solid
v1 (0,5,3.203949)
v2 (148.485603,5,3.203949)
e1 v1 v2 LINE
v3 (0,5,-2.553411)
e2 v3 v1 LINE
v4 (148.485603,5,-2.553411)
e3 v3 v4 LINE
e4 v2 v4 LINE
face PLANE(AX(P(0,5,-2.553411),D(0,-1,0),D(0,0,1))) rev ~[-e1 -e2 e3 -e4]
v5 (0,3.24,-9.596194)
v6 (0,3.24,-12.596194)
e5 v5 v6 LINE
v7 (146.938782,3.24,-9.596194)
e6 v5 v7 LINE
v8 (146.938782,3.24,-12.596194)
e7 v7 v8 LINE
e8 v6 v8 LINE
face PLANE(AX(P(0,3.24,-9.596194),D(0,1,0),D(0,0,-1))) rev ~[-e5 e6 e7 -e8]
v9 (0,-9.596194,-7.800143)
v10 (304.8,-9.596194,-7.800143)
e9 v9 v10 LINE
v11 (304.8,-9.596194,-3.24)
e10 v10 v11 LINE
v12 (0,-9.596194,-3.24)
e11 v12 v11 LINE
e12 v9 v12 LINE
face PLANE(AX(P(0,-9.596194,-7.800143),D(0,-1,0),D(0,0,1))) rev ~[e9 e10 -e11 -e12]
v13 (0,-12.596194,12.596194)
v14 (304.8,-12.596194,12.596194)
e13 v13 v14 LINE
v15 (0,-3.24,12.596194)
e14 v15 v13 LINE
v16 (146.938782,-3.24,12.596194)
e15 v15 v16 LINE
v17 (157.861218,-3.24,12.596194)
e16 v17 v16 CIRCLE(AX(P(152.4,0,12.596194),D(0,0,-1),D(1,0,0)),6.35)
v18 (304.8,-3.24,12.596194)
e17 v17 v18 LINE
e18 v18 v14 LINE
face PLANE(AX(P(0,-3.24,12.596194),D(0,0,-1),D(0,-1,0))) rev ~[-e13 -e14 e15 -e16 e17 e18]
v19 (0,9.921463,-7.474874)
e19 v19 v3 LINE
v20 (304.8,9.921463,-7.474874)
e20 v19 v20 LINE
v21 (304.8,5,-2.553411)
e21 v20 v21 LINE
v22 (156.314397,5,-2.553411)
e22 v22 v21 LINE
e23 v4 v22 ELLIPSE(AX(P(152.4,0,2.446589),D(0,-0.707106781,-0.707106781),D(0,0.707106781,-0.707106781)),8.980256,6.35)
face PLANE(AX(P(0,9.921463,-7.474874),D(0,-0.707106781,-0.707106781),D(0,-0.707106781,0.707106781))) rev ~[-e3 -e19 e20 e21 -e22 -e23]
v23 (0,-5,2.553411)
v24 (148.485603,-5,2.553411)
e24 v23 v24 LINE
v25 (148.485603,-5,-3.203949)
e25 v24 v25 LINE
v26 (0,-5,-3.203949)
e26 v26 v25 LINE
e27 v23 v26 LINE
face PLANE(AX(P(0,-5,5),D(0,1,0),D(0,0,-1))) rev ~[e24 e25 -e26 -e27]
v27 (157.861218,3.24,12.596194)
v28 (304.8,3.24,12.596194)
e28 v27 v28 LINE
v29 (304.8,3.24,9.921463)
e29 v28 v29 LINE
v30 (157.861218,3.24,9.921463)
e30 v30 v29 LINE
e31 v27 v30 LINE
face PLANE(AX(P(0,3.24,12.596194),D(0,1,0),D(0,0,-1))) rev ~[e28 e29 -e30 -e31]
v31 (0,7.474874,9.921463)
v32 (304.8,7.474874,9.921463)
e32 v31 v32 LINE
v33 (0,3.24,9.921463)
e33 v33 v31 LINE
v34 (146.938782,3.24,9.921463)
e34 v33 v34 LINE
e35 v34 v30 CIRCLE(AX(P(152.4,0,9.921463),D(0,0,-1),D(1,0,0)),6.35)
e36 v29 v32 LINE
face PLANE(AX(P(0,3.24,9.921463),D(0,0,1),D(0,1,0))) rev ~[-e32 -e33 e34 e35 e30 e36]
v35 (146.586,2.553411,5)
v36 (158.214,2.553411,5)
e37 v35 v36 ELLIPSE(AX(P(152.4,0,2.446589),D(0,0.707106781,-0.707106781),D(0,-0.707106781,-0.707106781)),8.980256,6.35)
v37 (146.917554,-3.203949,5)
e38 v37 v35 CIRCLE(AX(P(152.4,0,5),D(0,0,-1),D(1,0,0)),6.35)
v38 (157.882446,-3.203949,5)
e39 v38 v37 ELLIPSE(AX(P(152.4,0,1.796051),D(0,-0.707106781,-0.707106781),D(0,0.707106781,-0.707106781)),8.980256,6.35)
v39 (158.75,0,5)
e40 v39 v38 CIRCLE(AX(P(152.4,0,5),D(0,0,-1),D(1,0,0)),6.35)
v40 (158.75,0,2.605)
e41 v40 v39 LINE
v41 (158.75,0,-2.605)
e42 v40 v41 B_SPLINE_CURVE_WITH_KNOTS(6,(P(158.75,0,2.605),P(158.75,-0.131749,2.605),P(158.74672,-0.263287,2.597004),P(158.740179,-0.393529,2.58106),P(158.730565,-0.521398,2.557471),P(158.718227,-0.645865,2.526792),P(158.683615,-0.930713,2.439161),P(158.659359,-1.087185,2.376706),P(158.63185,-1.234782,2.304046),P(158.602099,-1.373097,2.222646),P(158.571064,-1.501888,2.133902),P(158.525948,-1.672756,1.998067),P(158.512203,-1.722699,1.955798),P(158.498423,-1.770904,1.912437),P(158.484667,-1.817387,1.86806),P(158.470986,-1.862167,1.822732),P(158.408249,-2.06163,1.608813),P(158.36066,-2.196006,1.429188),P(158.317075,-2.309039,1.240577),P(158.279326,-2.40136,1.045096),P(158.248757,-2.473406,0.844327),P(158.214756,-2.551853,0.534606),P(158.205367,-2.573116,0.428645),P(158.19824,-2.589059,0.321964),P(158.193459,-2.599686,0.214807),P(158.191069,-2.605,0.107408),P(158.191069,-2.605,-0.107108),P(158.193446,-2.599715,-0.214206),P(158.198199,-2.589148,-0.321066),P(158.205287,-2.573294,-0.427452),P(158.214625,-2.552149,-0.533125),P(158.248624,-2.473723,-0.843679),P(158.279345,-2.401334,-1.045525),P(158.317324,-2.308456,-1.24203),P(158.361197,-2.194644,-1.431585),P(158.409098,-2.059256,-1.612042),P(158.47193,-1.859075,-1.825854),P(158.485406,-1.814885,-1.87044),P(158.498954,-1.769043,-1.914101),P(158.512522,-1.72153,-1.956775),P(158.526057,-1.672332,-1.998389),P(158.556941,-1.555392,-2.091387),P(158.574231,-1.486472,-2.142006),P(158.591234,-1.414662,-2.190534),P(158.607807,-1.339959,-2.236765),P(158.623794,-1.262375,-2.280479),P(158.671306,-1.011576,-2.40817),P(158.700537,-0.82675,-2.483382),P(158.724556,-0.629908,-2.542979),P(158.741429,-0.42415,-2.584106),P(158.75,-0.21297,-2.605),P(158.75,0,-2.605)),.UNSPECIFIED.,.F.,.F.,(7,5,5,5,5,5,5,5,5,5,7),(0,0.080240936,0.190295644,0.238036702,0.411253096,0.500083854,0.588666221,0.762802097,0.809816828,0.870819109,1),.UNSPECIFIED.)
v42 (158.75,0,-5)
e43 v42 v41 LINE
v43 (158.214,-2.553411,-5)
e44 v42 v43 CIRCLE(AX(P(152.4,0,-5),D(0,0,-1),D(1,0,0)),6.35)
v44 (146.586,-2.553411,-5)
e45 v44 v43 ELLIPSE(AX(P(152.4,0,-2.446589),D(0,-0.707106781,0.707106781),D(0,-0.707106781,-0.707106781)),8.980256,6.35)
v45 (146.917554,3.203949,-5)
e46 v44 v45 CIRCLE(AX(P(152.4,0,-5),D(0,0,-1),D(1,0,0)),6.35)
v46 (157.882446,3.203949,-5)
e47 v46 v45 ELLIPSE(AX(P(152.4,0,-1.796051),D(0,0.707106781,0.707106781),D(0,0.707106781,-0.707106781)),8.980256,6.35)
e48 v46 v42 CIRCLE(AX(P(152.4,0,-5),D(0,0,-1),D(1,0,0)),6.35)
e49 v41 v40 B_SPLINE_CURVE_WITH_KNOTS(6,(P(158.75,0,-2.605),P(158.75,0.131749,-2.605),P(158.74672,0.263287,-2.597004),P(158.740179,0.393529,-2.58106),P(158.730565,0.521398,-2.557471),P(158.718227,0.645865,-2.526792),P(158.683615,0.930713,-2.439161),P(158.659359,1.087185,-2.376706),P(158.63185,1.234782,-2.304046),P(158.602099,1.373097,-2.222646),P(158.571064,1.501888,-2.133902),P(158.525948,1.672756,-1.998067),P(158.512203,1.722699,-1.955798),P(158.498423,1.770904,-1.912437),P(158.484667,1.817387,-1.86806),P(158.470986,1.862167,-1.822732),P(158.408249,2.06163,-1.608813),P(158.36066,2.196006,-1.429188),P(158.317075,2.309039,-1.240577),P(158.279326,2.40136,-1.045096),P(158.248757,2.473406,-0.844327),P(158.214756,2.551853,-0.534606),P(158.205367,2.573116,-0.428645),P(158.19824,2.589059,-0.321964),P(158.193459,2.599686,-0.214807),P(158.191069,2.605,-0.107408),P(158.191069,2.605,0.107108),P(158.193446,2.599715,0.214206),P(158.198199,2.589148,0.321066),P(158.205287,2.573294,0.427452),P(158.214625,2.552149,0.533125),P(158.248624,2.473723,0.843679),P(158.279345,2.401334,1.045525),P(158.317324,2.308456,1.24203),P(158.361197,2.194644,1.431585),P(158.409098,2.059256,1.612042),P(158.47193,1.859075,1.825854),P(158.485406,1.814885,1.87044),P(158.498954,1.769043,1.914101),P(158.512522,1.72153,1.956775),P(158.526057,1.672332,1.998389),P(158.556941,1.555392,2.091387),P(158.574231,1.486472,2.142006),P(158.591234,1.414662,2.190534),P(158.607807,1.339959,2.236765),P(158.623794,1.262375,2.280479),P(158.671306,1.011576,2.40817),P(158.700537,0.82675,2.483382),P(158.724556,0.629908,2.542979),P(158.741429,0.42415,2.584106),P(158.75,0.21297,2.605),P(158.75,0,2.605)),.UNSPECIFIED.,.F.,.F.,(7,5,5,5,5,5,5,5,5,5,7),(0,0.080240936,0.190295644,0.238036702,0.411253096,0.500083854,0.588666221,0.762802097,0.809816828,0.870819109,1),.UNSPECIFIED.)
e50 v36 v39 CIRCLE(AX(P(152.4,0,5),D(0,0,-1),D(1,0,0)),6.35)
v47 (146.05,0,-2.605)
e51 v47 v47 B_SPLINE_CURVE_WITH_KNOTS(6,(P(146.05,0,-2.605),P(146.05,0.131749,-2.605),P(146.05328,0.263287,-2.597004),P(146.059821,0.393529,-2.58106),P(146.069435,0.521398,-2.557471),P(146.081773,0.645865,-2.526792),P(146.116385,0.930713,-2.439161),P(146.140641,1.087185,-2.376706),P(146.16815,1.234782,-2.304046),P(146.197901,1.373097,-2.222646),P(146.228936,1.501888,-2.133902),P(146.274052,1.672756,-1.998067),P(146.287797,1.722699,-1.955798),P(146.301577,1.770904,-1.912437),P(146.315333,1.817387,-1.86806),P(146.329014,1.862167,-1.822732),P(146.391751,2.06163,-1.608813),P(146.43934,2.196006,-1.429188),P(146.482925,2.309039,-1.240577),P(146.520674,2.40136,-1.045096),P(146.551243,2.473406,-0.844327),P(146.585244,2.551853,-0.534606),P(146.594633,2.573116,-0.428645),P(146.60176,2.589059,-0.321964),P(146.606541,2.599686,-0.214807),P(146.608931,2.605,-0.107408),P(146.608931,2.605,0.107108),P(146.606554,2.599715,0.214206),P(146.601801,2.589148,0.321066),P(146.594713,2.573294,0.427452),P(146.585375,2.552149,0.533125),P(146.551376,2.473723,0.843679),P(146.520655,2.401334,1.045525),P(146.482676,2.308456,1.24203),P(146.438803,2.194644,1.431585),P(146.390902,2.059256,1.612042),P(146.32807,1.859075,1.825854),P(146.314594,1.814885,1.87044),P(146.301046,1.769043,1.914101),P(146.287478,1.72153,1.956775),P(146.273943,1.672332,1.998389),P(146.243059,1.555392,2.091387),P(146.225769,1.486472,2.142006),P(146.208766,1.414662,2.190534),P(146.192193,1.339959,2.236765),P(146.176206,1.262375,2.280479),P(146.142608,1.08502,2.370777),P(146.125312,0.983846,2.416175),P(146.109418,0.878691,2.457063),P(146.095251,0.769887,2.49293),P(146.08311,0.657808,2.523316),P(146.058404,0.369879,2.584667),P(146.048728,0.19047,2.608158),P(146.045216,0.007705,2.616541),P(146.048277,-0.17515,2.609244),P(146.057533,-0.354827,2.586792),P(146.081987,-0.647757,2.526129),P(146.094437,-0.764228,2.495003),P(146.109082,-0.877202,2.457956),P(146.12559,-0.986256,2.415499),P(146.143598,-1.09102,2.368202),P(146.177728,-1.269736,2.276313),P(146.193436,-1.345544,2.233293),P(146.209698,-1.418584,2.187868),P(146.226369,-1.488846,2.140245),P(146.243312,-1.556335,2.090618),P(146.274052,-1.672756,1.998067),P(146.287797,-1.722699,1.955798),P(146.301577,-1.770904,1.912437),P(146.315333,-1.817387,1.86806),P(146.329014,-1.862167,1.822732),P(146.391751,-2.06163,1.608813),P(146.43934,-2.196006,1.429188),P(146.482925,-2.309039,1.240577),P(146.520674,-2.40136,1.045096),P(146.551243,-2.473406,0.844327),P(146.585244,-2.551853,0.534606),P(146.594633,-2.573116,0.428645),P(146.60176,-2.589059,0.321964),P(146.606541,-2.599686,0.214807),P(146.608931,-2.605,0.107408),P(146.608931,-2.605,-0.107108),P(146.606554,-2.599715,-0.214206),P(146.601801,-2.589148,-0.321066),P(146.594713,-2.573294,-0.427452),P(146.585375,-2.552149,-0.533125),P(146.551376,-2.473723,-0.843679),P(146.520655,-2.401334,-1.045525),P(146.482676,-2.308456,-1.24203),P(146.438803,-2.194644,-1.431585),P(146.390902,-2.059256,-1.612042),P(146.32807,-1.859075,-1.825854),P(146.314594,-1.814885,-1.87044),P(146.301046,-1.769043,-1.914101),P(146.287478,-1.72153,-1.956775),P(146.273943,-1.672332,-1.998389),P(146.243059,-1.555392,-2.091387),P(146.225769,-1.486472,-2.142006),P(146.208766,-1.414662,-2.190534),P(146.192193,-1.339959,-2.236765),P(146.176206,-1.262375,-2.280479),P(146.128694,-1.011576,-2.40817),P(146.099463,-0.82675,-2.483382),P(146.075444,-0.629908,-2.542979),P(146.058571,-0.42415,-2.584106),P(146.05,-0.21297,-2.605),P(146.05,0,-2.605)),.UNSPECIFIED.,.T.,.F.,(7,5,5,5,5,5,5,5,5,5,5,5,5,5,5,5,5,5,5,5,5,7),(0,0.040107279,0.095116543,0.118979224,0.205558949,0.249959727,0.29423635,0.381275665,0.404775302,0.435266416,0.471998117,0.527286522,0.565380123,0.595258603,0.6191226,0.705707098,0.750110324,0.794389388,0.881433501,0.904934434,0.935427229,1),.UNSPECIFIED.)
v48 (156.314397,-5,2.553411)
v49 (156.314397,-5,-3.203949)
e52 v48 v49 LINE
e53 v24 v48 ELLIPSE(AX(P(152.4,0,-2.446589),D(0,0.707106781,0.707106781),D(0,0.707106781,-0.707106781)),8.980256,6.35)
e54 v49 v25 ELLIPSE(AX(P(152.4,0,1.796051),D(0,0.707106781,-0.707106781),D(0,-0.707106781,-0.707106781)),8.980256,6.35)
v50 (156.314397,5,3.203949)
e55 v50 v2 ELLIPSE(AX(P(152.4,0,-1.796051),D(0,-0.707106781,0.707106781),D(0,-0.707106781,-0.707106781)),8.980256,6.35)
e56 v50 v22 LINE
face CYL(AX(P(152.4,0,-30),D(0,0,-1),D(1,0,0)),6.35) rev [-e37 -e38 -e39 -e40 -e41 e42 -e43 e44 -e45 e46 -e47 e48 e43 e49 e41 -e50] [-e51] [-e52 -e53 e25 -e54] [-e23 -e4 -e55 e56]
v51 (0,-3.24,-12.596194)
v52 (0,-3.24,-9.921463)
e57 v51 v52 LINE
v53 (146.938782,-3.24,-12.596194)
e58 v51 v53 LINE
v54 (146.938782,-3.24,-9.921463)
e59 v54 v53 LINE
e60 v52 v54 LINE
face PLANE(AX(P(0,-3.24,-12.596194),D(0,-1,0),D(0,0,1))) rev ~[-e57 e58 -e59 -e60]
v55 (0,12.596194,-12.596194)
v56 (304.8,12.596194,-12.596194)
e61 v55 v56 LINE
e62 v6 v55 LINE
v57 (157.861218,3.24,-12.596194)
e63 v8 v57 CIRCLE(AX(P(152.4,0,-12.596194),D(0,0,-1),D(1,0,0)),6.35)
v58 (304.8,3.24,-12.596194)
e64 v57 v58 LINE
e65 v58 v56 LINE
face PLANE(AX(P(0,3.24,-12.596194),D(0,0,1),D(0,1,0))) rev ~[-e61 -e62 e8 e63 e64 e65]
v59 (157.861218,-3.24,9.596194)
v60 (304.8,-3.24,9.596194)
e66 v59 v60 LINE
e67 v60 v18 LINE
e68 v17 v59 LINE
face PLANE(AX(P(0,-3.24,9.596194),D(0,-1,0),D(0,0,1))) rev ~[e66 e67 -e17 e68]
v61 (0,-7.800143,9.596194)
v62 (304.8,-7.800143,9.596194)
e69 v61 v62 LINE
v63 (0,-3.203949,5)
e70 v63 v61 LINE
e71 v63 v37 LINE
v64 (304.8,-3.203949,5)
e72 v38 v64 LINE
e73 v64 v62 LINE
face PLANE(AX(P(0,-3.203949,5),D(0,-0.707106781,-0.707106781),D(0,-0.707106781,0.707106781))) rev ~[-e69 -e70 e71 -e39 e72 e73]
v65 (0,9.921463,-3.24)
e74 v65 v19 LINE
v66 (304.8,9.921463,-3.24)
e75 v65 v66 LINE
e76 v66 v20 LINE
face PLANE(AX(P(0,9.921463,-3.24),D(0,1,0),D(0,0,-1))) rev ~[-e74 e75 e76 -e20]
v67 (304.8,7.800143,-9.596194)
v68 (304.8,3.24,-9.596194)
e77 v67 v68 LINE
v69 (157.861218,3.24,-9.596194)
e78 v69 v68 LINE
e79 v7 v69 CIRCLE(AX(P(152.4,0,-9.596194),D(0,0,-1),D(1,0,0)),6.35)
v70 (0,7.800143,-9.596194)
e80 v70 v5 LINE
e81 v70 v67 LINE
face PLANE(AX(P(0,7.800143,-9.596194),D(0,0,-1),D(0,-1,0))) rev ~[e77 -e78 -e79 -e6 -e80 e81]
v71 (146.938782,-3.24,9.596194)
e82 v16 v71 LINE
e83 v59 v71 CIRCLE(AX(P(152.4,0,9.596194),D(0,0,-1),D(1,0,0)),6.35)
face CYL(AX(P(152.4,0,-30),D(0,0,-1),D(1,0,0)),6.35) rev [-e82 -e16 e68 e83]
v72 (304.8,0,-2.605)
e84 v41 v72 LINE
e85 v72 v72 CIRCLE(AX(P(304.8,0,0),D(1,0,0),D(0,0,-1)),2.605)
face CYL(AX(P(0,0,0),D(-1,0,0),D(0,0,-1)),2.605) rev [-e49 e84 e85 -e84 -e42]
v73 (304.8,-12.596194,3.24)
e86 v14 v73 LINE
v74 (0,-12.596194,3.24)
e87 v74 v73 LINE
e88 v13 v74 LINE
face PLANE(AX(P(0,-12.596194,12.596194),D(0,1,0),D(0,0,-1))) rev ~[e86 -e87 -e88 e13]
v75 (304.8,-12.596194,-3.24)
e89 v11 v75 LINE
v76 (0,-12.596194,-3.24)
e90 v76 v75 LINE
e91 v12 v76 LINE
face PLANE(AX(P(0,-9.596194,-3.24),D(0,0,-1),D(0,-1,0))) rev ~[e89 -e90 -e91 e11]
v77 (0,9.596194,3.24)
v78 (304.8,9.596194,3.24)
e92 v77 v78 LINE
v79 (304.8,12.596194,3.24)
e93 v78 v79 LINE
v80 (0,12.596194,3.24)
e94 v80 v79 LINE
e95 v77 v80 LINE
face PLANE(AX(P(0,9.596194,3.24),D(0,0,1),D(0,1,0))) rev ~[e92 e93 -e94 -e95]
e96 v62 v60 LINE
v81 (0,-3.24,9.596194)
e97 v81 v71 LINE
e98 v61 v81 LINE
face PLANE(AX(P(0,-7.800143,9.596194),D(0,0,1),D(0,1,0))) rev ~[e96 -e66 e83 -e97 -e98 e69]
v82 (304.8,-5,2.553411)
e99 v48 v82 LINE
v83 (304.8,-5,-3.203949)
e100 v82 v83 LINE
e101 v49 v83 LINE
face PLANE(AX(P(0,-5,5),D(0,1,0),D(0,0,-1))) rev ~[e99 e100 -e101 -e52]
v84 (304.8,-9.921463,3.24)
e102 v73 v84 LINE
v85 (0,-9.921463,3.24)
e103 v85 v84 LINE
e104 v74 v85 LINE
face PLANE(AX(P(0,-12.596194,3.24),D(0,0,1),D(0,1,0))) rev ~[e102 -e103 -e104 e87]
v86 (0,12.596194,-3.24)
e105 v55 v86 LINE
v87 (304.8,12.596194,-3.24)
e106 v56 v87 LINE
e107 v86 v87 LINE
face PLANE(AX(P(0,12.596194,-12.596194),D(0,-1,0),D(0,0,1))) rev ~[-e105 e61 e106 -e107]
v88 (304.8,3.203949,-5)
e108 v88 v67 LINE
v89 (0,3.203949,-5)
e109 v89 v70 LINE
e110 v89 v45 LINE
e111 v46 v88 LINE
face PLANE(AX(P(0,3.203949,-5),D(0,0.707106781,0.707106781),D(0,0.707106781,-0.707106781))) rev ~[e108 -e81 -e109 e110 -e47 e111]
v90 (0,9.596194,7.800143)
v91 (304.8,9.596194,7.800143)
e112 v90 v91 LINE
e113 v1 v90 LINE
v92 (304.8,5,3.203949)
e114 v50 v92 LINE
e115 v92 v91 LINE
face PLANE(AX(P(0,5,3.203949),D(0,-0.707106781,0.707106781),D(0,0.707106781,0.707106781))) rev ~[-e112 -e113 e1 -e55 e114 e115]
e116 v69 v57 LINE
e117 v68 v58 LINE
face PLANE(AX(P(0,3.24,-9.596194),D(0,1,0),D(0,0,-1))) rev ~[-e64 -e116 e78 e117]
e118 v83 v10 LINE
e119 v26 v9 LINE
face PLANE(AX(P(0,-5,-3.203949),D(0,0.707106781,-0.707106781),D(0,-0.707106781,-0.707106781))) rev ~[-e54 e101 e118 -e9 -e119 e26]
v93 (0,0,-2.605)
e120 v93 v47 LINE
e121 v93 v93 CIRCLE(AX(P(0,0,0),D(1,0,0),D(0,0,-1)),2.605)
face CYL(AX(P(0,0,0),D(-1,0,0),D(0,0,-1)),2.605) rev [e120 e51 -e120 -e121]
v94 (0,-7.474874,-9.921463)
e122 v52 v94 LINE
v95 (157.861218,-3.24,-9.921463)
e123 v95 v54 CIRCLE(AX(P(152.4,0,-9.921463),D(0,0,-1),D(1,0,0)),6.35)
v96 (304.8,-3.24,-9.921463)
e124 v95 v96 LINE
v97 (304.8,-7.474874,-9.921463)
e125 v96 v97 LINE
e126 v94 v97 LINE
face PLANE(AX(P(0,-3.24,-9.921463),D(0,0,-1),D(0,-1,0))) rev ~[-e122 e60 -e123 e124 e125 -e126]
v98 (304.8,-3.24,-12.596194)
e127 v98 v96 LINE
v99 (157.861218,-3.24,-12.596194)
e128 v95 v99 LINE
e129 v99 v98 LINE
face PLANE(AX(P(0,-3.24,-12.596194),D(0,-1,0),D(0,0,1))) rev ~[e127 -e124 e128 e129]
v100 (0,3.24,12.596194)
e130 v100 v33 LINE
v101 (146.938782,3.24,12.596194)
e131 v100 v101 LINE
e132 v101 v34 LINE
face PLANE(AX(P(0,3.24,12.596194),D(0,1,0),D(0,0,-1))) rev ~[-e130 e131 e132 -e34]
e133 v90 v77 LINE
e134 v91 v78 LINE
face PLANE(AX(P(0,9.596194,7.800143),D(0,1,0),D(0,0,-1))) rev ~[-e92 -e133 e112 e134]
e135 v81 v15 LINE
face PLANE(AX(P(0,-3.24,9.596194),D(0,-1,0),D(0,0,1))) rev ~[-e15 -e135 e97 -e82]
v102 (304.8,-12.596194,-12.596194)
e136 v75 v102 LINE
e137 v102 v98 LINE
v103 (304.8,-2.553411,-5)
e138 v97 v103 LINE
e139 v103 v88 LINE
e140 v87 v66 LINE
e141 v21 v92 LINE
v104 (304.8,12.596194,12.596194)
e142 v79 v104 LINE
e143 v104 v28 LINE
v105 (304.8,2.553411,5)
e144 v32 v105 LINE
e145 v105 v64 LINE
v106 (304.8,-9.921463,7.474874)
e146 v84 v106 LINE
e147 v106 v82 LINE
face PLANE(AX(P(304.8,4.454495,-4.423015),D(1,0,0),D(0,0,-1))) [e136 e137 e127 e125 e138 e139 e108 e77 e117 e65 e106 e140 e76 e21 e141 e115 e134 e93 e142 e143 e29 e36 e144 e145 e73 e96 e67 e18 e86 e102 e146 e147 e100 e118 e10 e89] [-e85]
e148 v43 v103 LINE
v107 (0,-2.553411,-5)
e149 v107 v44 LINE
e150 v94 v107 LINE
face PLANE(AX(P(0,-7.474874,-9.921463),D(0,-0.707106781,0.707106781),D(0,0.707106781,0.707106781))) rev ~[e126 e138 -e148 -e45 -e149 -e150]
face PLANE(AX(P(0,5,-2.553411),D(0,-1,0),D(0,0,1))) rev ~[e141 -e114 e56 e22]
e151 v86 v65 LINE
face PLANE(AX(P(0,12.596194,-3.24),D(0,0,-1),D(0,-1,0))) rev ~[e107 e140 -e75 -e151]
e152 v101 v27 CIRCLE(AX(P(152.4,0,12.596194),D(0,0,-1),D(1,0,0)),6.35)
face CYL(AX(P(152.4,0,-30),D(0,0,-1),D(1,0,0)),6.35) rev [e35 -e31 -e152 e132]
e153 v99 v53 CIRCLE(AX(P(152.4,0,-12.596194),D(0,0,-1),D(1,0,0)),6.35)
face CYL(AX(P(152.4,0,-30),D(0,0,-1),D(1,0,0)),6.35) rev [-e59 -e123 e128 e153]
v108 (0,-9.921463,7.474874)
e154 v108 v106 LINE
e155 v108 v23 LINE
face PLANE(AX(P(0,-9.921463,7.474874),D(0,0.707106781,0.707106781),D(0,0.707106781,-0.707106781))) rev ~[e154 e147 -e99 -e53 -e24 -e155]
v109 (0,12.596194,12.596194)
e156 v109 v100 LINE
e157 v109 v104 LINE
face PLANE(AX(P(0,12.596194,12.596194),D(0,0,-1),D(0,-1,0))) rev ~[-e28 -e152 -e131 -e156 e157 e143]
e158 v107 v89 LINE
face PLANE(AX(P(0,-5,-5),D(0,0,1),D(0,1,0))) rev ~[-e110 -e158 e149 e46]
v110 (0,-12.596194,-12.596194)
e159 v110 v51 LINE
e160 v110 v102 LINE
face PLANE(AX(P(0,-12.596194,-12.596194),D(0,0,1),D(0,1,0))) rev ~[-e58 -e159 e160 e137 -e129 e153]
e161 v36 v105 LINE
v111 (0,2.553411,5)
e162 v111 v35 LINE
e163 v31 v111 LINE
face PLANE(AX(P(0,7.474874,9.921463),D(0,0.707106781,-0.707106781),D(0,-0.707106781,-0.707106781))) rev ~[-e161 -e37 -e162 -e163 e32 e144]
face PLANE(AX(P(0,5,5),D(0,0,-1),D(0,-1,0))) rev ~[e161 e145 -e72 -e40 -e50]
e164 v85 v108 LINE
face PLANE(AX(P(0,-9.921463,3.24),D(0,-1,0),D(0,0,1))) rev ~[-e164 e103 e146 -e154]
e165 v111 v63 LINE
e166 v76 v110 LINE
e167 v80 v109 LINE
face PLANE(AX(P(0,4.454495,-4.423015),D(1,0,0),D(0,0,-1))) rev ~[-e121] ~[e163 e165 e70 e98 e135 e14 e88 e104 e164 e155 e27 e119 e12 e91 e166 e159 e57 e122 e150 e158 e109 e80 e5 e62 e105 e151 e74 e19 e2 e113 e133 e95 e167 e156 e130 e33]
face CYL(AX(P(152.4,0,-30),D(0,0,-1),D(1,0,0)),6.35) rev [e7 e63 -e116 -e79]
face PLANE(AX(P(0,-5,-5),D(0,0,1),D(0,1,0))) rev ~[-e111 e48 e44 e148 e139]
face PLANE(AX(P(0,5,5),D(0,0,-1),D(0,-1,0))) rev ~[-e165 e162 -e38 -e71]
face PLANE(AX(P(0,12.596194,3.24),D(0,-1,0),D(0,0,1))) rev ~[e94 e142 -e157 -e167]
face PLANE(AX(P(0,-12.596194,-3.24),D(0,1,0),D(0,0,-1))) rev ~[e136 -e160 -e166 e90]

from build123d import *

# Parameters (mm, degrees)
SKETCH1_R               = 2.605
BOSS_EXTRUDE1_DEPTH     = 304.8
CIRPATTERN1_COUNT       = 4
CUT_EXTRUDE1_DEPTH      = 20
CUT_EXTRUDE1_DEPTH_BACK = 30
SKETCH2_R               = 6.35


with BuildPart() as part:
    # Sketch1 → Boss-Extrude1 (new body)
    with BuildSketch(Plane(origin=(0, 0, 0), x_dir=(0, 0, -1), z_dir=(1, 0, 0))):
        Polygon((5, -5), (5, 3.203948776), (9.596194078, 7.800142853), (9.596194078, 3.24), (12.596194078, 3.24), (12.596194078, 12.596194078), (3.24, 12.596194078), (3.24, 9.921463197), (7.474873734, 9.921463197), (2.553410537, 5), (-5, 5), (-5, -5), align=None)
        Circle(SKETCH1_R, mode=Mode.SUBTRACT)
    boss_extrude1 = extrude(amount=BOSS_EXTRUDE1_DEPTH)

    # CirPattern1: Boss-Extrude1 ×4 about axis
    cirpattern1_axis = Axis((0, 0, 0), (1, 0, 0))
    for i in range(1, CIRPATTERN1_COUNT):
        add(boss_extrude1.rotate(cirpattern1_axis, i * 360 / CIRPATTERN1_COUNT))

    # Sketch2 → Cut-Extrude1 (cut, two sides: drawn at the far end of the back side and taken through both)
    with BuildSketch(Plane.XY.offset(-CUT_EXTRUDE1_DEPTH_BACK)):
        with Locations((152.4, 0)):
            Circle(SKETCH2_R)
    extrude(amount=CUT_EXTRUDE1_DEPTH + CUT_EXTRUDE1_DEPTH_BACK, mode=Mode.SUBTRACT)


solid = part.part
